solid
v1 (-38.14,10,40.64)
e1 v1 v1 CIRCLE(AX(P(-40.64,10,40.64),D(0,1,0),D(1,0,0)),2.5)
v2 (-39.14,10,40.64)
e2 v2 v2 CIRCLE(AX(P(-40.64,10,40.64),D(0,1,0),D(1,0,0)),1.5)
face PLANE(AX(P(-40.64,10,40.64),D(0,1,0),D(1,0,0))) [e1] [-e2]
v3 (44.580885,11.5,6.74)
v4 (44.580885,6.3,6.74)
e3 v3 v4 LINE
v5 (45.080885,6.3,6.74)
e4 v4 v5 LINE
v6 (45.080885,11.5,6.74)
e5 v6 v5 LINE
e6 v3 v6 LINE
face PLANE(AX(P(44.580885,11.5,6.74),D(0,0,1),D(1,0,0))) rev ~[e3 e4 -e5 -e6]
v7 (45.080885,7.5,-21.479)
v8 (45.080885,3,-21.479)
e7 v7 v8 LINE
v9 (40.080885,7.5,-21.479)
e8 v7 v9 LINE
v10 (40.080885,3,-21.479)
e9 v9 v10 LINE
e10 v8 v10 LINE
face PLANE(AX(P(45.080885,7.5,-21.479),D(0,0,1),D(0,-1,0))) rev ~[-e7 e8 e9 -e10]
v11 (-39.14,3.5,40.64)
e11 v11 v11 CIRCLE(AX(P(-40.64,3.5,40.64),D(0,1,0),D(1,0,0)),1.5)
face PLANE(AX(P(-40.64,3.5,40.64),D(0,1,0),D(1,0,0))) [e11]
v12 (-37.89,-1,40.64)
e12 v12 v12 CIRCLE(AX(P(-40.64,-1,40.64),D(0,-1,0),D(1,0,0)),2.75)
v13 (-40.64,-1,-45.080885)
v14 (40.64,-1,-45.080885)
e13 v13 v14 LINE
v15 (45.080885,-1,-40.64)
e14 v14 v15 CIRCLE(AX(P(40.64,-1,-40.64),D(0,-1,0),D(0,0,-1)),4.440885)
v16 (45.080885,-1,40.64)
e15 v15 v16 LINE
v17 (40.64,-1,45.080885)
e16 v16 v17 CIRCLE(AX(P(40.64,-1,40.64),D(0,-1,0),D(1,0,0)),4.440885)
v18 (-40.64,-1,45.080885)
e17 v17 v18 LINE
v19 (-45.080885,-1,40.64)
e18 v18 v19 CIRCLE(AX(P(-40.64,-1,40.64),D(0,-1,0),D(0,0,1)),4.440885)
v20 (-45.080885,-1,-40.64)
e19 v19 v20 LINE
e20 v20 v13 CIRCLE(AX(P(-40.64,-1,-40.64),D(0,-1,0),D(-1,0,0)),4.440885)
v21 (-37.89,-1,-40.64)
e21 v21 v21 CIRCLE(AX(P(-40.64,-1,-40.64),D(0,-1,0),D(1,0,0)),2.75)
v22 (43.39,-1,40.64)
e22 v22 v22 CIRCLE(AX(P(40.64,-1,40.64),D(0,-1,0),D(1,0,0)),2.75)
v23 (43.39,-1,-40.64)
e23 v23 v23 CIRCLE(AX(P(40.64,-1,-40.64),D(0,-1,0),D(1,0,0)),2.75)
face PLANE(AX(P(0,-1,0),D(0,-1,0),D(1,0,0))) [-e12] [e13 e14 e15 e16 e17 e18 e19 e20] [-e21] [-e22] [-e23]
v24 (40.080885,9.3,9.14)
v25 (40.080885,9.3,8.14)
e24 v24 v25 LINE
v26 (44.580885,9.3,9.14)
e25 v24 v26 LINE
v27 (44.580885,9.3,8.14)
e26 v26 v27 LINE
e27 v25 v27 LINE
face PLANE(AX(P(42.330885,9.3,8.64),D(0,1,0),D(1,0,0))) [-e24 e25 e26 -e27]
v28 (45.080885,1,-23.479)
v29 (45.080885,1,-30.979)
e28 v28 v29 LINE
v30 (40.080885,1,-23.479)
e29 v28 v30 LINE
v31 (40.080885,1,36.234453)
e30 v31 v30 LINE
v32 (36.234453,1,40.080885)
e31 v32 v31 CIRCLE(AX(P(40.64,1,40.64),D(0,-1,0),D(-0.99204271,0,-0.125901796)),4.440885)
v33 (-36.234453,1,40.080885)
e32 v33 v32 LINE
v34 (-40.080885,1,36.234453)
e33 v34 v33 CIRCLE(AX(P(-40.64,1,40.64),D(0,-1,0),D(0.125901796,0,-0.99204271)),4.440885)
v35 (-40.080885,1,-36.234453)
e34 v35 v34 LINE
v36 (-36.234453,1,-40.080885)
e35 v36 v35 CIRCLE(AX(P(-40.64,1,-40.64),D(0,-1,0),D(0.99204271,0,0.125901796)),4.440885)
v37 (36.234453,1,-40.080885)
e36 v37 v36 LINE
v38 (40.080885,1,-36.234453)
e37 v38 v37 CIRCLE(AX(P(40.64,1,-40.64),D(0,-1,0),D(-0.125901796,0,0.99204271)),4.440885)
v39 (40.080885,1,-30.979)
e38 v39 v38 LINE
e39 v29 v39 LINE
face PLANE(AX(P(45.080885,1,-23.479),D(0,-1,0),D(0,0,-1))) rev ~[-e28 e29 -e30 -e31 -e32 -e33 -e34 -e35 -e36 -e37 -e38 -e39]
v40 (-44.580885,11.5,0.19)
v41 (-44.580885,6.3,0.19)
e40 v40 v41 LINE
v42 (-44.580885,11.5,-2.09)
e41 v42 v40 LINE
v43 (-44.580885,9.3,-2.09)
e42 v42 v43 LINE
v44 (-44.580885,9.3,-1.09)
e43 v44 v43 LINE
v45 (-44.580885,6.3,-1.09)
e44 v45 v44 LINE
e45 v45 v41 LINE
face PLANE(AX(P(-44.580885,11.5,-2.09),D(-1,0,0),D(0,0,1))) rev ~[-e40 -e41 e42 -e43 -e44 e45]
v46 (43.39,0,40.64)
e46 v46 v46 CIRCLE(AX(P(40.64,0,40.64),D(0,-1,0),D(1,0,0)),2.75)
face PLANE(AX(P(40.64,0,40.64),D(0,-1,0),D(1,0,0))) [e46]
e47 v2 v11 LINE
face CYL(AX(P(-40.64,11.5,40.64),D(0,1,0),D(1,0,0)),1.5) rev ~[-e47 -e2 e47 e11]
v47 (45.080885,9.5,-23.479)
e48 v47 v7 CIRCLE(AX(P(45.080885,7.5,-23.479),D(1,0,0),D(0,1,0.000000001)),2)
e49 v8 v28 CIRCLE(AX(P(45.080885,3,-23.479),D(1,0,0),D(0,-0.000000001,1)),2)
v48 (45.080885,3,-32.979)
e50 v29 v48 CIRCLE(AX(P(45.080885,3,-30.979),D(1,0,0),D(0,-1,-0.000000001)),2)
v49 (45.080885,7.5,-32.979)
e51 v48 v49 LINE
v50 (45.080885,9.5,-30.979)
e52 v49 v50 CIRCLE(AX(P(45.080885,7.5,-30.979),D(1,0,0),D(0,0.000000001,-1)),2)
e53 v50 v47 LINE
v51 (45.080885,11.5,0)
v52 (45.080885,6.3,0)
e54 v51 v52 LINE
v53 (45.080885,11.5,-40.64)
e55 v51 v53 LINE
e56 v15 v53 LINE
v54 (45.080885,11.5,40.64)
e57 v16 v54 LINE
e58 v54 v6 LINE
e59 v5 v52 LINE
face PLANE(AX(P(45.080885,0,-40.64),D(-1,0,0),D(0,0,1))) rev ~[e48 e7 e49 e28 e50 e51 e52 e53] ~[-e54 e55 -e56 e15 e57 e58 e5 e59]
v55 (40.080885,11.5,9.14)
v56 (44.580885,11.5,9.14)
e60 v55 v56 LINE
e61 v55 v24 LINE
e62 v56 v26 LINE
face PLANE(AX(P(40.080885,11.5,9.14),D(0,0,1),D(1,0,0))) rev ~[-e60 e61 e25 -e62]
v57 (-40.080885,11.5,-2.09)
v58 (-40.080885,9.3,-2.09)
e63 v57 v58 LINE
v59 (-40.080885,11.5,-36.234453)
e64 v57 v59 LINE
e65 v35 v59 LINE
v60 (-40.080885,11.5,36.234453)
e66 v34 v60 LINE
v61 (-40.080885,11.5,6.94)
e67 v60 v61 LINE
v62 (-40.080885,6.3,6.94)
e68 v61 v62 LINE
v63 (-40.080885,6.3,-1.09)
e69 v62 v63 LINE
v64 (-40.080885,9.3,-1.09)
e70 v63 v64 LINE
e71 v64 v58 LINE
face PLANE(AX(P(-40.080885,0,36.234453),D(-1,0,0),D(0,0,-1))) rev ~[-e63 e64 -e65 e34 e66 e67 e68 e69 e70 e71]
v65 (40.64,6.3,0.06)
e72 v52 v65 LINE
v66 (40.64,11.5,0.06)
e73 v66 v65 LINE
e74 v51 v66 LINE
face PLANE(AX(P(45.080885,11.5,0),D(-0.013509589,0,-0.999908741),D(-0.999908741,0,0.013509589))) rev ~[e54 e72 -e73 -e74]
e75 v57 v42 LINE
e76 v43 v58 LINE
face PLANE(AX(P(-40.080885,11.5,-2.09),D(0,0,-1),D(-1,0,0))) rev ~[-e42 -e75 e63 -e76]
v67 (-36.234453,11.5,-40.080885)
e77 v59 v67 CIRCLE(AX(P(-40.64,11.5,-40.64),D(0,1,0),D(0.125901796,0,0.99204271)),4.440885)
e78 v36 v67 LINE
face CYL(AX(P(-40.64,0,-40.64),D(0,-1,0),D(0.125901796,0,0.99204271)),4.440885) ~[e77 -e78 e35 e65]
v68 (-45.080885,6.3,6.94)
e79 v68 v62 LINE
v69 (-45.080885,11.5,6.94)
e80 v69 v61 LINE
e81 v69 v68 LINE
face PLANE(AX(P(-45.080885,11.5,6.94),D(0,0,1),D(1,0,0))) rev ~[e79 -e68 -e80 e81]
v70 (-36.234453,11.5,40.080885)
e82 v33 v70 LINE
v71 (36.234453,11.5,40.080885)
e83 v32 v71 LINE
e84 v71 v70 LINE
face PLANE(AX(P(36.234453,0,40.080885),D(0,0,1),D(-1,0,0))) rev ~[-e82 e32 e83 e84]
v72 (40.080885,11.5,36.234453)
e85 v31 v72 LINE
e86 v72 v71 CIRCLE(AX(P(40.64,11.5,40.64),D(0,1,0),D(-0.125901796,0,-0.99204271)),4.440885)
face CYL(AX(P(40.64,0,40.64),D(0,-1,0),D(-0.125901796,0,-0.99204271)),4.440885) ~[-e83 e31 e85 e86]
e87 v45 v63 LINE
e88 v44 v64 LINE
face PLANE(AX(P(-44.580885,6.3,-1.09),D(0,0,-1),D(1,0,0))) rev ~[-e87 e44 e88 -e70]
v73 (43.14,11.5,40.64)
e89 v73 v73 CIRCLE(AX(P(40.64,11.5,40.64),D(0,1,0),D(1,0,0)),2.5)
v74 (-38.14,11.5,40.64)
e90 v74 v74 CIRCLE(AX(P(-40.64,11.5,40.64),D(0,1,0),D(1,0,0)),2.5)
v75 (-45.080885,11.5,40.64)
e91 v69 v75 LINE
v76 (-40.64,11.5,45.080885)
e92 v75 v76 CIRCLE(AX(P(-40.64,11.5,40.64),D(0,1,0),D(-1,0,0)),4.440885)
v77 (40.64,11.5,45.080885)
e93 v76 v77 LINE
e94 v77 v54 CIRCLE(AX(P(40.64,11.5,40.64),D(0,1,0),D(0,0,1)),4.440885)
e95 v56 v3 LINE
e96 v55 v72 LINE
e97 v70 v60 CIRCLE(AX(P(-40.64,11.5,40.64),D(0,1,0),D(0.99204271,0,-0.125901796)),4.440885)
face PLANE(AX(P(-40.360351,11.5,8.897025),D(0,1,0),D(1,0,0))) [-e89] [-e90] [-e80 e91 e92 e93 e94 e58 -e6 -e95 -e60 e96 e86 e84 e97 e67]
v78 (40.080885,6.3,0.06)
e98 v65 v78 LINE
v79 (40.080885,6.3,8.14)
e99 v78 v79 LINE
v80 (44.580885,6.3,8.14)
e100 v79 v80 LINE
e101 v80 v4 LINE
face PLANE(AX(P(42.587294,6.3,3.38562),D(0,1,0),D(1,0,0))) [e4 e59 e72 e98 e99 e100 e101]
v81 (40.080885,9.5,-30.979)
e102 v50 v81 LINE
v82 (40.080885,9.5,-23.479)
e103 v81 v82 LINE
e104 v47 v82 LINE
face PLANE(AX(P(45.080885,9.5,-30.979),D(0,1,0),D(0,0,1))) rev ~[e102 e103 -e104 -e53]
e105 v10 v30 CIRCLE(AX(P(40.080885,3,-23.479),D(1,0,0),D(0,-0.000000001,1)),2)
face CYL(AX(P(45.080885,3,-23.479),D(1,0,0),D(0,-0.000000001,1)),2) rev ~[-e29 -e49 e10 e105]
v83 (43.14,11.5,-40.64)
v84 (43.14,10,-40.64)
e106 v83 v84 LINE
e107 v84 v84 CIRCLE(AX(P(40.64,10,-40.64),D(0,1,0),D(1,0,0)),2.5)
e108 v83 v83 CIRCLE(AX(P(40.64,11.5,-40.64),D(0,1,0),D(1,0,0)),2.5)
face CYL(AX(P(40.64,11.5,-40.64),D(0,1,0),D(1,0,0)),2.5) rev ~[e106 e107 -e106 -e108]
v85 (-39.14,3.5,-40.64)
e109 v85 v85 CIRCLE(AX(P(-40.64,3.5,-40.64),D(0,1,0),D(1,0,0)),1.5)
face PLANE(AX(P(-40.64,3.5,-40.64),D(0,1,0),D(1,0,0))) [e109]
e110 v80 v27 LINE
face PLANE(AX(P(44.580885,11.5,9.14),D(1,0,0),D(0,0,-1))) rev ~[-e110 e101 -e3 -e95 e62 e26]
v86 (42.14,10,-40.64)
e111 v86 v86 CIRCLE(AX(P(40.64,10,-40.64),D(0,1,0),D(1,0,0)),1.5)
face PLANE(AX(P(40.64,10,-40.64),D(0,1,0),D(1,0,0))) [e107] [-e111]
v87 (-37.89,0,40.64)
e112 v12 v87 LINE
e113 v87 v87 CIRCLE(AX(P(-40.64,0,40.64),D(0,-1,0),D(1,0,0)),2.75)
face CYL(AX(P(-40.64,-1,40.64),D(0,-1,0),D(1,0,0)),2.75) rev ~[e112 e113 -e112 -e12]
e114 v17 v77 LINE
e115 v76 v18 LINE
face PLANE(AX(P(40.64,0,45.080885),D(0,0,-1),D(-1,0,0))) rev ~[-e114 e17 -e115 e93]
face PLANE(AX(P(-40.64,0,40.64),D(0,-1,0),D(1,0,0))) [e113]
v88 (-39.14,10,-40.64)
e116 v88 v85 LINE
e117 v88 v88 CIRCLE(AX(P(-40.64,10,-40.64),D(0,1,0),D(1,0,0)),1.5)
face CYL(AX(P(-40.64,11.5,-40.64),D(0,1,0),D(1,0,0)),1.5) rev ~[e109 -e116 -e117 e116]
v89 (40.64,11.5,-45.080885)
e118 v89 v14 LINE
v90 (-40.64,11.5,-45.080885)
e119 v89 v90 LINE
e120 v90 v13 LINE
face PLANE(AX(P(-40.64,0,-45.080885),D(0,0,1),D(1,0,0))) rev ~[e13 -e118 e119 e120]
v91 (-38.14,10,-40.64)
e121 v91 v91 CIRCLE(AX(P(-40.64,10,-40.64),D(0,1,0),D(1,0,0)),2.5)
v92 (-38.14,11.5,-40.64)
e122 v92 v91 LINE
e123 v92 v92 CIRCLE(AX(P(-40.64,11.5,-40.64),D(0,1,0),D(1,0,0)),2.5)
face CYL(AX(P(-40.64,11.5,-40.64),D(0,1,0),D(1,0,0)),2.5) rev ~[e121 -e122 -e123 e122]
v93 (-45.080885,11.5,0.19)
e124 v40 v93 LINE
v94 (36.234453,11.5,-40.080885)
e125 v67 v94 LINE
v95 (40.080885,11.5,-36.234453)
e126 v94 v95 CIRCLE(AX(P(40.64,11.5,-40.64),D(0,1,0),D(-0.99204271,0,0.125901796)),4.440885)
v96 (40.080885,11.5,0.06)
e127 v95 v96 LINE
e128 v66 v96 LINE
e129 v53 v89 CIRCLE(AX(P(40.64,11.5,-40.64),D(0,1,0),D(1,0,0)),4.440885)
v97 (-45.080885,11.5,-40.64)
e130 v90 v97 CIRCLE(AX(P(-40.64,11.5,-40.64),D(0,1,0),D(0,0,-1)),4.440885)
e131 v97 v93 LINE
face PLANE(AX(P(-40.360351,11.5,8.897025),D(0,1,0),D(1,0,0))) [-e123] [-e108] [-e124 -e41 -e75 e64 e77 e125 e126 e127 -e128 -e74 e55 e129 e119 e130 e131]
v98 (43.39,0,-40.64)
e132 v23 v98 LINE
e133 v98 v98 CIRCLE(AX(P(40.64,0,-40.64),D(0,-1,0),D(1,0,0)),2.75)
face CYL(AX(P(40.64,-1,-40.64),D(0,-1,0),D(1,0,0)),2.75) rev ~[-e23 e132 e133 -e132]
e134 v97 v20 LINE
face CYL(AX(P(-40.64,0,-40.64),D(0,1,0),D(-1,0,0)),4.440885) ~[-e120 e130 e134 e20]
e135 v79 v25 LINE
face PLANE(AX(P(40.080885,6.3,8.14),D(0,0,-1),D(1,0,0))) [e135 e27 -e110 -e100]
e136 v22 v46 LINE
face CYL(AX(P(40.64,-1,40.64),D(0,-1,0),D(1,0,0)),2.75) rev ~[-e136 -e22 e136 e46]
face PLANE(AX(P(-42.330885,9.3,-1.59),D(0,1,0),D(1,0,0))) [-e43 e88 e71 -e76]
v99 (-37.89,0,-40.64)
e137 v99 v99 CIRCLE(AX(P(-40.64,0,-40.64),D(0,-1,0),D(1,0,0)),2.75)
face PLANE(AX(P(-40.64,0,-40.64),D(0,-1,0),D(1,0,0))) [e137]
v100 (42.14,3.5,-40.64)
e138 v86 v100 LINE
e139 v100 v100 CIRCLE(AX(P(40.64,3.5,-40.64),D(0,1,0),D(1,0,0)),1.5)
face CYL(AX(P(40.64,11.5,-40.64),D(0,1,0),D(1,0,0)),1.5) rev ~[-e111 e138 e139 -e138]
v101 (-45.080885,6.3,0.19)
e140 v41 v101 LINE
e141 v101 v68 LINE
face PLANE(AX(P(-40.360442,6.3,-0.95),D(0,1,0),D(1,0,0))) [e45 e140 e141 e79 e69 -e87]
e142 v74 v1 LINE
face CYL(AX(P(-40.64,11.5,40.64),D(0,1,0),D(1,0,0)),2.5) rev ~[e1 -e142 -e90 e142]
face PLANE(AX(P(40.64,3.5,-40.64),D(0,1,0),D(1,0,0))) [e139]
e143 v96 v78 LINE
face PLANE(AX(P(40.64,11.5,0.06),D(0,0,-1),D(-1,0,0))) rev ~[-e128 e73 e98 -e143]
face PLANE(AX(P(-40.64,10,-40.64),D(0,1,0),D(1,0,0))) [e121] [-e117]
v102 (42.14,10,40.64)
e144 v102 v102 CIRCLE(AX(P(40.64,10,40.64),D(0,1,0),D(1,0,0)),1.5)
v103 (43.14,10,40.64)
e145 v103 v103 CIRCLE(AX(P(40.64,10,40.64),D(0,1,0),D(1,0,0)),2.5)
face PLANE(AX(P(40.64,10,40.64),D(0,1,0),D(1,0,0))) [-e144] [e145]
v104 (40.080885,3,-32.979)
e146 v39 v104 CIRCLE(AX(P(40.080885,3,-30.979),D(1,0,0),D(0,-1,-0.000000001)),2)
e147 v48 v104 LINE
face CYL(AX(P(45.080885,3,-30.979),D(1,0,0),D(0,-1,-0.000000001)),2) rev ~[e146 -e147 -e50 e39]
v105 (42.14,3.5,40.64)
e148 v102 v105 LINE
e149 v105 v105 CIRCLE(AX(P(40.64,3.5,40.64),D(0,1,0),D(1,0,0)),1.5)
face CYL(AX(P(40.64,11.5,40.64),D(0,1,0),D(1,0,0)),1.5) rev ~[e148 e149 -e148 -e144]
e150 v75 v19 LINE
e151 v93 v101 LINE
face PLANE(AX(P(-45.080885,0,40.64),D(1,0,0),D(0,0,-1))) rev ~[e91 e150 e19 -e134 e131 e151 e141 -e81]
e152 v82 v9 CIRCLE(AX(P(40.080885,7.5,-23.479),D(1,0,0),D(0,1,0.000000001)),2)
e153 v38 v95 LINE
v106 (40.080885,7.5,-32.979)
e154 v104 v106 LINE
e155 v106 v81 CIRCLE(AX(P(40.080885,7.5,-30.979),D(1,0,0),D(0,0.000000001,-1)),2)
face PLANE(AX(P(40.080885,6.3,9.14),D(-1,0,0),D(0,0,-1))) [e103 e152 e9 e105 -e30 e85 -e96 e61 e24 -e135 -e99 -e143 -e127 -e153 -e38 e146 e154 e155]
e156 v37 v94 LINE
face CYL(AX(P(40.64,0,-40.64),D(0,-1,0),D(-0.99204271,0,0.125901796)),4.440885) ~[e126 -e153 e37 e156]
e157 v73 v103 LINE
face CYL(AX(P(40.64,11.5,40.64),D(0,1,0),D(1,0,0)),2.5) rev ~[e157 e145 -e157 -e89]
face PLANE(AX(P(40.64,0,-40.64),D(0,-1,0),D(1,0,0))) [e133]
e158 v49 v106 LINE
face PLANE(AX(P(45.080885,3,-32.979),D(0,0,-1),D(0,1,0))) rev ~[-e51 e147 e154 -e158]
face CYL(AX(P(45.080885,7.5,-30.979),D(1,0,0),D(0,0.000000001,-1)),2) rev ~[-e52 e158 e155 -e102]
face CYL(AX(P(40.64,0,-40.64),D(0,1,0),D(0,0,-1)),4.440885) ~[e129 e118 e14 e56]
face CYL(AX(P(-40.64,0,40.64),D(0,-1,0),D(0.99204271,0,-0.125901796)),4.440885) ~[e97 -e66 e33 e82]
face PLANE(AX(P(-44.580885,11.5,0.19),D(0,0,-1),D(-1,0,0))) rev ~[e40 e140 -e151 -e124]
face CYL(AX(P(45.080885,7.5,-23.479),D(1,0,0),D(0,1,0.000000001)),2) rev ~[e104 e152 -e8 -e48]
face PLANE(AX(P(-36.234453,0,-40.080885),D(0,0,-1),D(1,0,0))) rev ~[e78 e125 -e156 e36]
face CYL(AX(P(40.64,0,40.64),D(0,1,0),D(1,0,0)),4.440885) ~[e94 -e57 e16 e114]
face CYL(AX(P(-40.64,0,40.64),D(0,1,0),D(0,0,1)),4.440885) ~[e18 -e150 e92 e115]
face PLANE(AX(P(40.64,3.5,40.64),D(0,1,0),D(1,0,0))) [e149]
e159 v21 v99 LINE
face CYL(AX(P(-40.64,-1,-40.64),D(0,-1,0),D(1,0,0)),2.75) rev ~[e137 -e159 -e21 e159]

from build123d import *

# Parameters (mm, degrees)
SKETCH1_W           = 7.937979337
SKETCH1_H           = 0.559115352
BOSS_EXTRUDE1_DEPTH = 11.5
SKETCH2_R           = 1.5
CUT_EXTRUDE1_DEPTH  = 8
CUT_EXTRUDE2_DEPTH  = 8
SKETCH4_R           = 2.5
CUT_EXTRUDE3_DEPTH  = 1.5
BOSS_EXTRUDE2_DEPTH = 1
BOSS_EXTRUDE3_DEPTH = 1
SKETCH7_R           = 2.75
CUT_EXTRUDE4_DEPTH  = 1
SKETCH8_W           = 0.559115352
SKETCH8_H           = 2.28
SKETCH8_H_2         = 2.4
CUT_EXTRUDE5_DEPTH  = 5.2
SKETCH9_W           = 4.5
SKETCH9_H           = 1
BOSS_EXTRUDE4_DEPTH = 3


with BuildPart() as part:
    # Sketch1 → Boss-Extrude1 (new body)
    with BuildSketch(Plane(origin=(0, 0, 0), x_dir=(1, 0, 0), z_dir=(0, 1, 0))):
        with BuildLine():
            Line((-40.080884648, -36.23445276), (-40.080884648, 18.423402639))
            Line((-40.080884648, 18.423402639), (-40.64, 18.423402639))
            Line((-40.64, 18.423402639), (-40.64, -36.199115352))
            ThreePointArc((-40.64, -36.199115352), (-40.359884529, -36.207958509), (-40.080884648, -36.23445276))
        make_face()
        with BuildLine():
            Line((-40.080884648, 18.423402639), (-40.080884648, 36.23445276))
            ThreePointArc((-40.080884648, 36.23445276), (-40.359884529, 36.207958509), (-40.64, 36.199115352))
            Line((-40.64, 36.199115352), (-40.64, 18.423402639))
            Line((-40.64, 18.423402639), (-40.080884648, 18.423402639))
        make_face()
        with BuildLine():
            Line((-36.23445276, 40.080884648), (-7.937979337, 40.080884648))
            Line((-7.937979337, 40.080884648), (-7.937979337, 40.64))
            Line((-7.937979337, 40.64), (-36.199115352, 40.64))
            ThreePointArc((-36.199115352, 40.64), (-36.207958509, 40.359884529), (-36.23445276, 40.080884648))
        make_face()
        with BuildLine():
            Line((0, 40.64), (0, 40.080884648))
            Line((0, 40.080884648), (36.23445276, 40.080884648))
            ThreePointArc((36.23445276, 40.080884648), (36.207958509, 40.359884529), (36.199115352, 40.64))
            Line((36.199115352, 40.64), (0, 40.64))
        make_face()
        with Locations((-3.968989669, 40.360442324)):
            Rectangle(SKETCH1_W, SKETCH1_H)
        with BuildLine():
            ThreePointArc((40.64, 36.199115352), (40.359884529, 36.207958509), (40.080884648, 36.23445276))
            Line((40.080884648, 36.23445276), (40.080884648, 28.268480093))
            Line((40.080884648, 28.268480093), (40.64, 28.268480093))
            Line((40.64, 28.268480093), (40.64, 36.199115352))
        make_face()
        with BuildLine():
            Line((40.64, 28.268480093), (40.080884648, 28.268480093))
            Line((40.080884648, 28.268480093), (40.080884648, -36.23445276))
            ThreePointArc((40.080884648, -36.23445276), (40.359884529, -36.207958509), (40.64, -36.199115352))
            Line((40.64, -36.199115352), (40.64, 28.268480093))
        make_face()
        with BuildLine():
            ThreePointArc((40.64, -36.199115352), (40.359884529, -36.207958509), (40.080884648, -36.23445276))
            ThreePointArc((40.080884648, -36.23445276), (37.499820351, -37.499820351), (36.23445276, -40.080884648))
            ThreePointArc((36.23445276, -40.080884648), (36.207958509, -40.359884529), (36.199115352, -40.64))
            Line((36.199115352, -40.64), (40.64, -40.64))
            Line((40.64, -40.64), (40.64, -36.199115352))
        make_face()
        with BuildLine():
            ThreePointArc((45.080884648, -40.64), (43.780179649, -37.499820351), (40.64, -36.199115352))
            Line((40.64, -36.199115352), (40.64, -40.64))
            Line((40.64, -40.64), (36.199115352, -40.64))
            ThreePointArc((36.199115352, -40.64), (37.499820351, -43.780179649), (40.64, -45.080884648))
            ThreePointArc((40.64, -45.080884648), (43.780179649, -43.780179649), (45.080884648, -40.64))
        make_face()
        with BuildLine():
            ThreePointArc((36.199115352, -40.64), (36.207958509, -40.359884529), (36.23445276, -40.080884648))
            Line((36.23445276, -40.080884648), (27.085817246, -40.080884648))
            Line((27.085817246, -40.080884648), (27.085817246, -40.64))
            Line((27.085817246, -40.64), (36.199115352, -40.64))
        make_face()
        with BuildLine():
            Line((27.085817246, -40.080884648), (-36.23445276, -40.080884648))
            ThreePointArc((-36.23445276, -40.080884648), (-36.207958509, -40.359884529), (-36.199115352, -40.64))
            Line((-36.199115352, -40.64), (27.085817246, -40.64))
            Line((27.085817246, -40.64), (27.085817246, -40.080884648))
        make_face()
        with BuildLine():
            Line((-40.64, -40.64), (-40.64, -36.199115352))
            ThreePointArc((-40.64, -36.199115352), (-43.780179649, -37.499820351), (-45.080884648, -40.64))
            ThreePointArc((-45.080884648, -40.64), (-43.780179649, -43.780179649), (-40.64, -45.080884648))
            ThreePointArc((-40.64, -45.080884648), (-37.499820351, -43.780179649), (-36.199115352, -40.64))
            Line((-36.199115352, -40.64), (-40.64, -40.64))
        make_face()
        with BuildLine():
            ThreePointArc((-36.23445276, -40.080884648), (-37.499820351, -37.499820351), (-40.080884648, -36.23445276))
            ThreePointArc((-40.080884648, -36.23445276), (-40.359884529, -36.207958509), (-40.64, -36.199115352))
            Line((-40.64, -36.199115352), (-40.64, -40.64))
            Line((-40.64, -40.64), (-36.199115352, -40.64))
            ThreePointArc((-36.199115352, -40.64), (-36.207958509, -40.359884529), (-36.23445276, -40.080884648))
        make_face()
        with BuildLine():
            Line((-40.64, -40.64), (-40.64, -36.199115352))
            ThreePointArc((-40.64, -36.199115352), (-43.780179649, -37.499820351), (-45.080884648, -40.64))
            ThreePointArc((-45.080884648, -40.64), (-43.780179649, -43.780179649), (-40.64, -45.080884648))
            ThreePointArc((-40.64, -45.080884648), (-37.499820351, -43.780179649), (-36.199115352, -40.64))
            Line((-36.199115352, -40.64), (-40.64, -40.64))
        make_face()
        with BuildLine():
            Line((27.085817246, -40.64), (-36.199115352, -40.64))
            ThreePointArc((-36.199115352, -40.64), (-37.499820351, -43.780179649), (-40.64, -45.080884648))
            Line((-40.64, -45.080884648), (27.085817246, -45.080884648))
            Line((27.085817246, -45.080884648), (27.085817246, -40.64))
        make_face()
        with BuildLine():
            Line((-40.64, -36.199115352), (-40.64, 18.423402639))
            Line((-40.64, 18.423402639), (-45.080884648, 18.423402639))
            Line((-45.080884648, 18.423402639), (-45.080884648, -40.64))
            ThreePointArc((-45.080884648, -40.64), (-43.780179649, -37.499820351), (-40.64, -36.199115352))
        make_face()
        with BuildLine():
            ThreePointArc((45.080884648, -40.64), (43.780179649, -37.499820351), (40.64, -36.199115352))
            Line((40.64, -36.199115352), (40.64, -40.64))
            Line((40.64, -40.64), (36.199115352, -40.64))
            ThreePointArc((36.199115352, -40.64), (37.499820351, -43.780179649), (40.64, -45.080884648))
            ThreePointArc((40.64, -45.080884648), (43.780179649, -43.780179649), (45.080884648, -40.64))
        make_face()
        with BuildLine():
            ThreePointArc((40.64, -45.080884648), (37.499820351, -43.780179649), (36.199115352, -40.64))
            Line((36.199115352, -40.64), (27.085817246, -40.64))
            Line((27.085817246, -40.64), (27.085817246, -45.080884648))
            Line((27.085817246, -45.080884648), (40.64, -45.080884648))
        make_face()
        with BuildLine():
            Line((45.080884648, 28.268480093), (40.64, 28.268480093))
            Line((40.64, 28.268480093), (40.64, -36.199115352))
            ThreePointArc((40.64, -36.199115352), (43.780179649, -37.499820351), (45.080884648, -40.64))
            Line((45.080884648, -40.64), (45.080884648, 28.268480093))
        make_face()
        with BuildLine():
            ThreePointArc((45.080884648, 40.64), (43.780179649, 37.499820351), (40.64, 36.199115352))
            Line((40.64, 36.199115352), (40.64, 28.268480093))
            Line((40.64, 28.268480093), (45.080884648, 28.268480093))
            Line((45.080884648, 28.268480093), (45.080884648, 40.64))
        make_face()
        with BuildLine():
            ThreePointArc((40.64, 45.080884648), (37.499820351, 43.780179649), (36.199115352, 40.64))
            Line((36.199115352, 40.64), (40.64, 40.64))
            Line((40.64, 40.64), (40.64, 36.199115352))
            ThreePointArc((40.64, 36.199115352), (43.780179649, 37.499820351), (45.080884648, 40.64))
            ThreePointArc((45.080884648, 40.64), (43.780179649, 43.780179649), (40.64, 45.080884648))
        make_face()
        with BuildLine():
            ThreePointArc((36.199115352, 40.64), (36.207958509, 40.359884529), (36.23445276, 40.080884648))
            ThreePointArc((36.23445276, 40.080884648), (37.499820351, 37.499820351), (40.080884648, 36.23445276))
            ThreePointArc((40.080884648, 36.23445276), (40.359884529, 36.207958509), (40.64, 36.199115352))
            Line((40.64, 36.199115352), (40.64, 40.64))
            Line((40.64, 40.64), (36.199115352, 40.64))
        make_face()
        with BuildLine():
            ThreePointArc((40.64, 45.080884648), (37.499820351, 43.780179649), (36.199115352, 40.64))
            Line((36.199115352, 40.64), (40.64, 40.64))
            Line((40.64, 40.64), (40.64, 36.199115352))
            ThreePointArc((40.64, 36.199115352), (43.780179649, 37.499820351), (45.080884648, 40.64))
            ThreePointArc((45.080884648, 40.64), (43.780179649, 43.780179649), (40.64, 45.080884648))
        make_face()
        with BuildLine():
            Line((-7.937979337, 40.64), (0, 40.64))
            Line((0, 40.64), (36.199115352, 40.64))
            ThreePointArc((36.199115352, 40.64), (37.499820351, 43.780179649), (40.64, 45.080884648))
            Line((40.64, 45.080884648), (-7.937979337, 45.080884648))
            Line((-7.937979337, 45.080884648), (-7.937979337, 40.64))
        make_face()
        with BuildLine():
            Line((-36.199115352, 40.64), (-7.937979337, 40.64))
            Line((-7.937979337, 40.64), (-7.937979337, 45.080884648))
            Line((-7.937979337, 45.080884648), (-40.64, 45.080884648))
            ThreePointArc((-40.64, 45.080884648), (-37.499820351, 43.780179649), (-36.199115352, 40.64))
        make_face()
        with BuildLine():
            Line((-40.64, 40.64), (-36.199115352, 40.64))
            ThreePointArc((-36.199115352, 40.64), (-37.499820351, 43.780179649), (-40.64, 45.080884648))
            ThreePointArc((-40.64, 45.080884648), (-43.780179649, 43.780179649), (-45.080884648, 40.64))
            ThreePointArc((-45.080884648, 40.64), (-43.780179649, 37.499820351), (-40.64, 36.199115352))
            Line((-40.64, 36.199115352), (-40.64, 40.64))
        make_face()
        with BuildLine():
            ThreePointArc((-40.080884648, 36.23445276), (-37.499820351, 37.499820351), (-36.23445276, 40.080884648))
            ThreePointArc((-36.23445276, 40.080884648), (-36.207958509, 40.359884529), (-36.199115352, 40.64))
            Line((-36.199115352, 40.64), (-40.64, 40.64))
            Line((-40.64, 40.64), (-40.64, 36.199115352))
            ThreePointArc((-40.64, 36.199115352), (-40.359884529, 36.207958509), (-40.080884648, 36.23445276))
        make_face()
        with BuildLine():
            Line((-40.64, 40.64), (-36.199115352, 40.64))
            ThreePointArc((-36.199115352, 40.64), (-37.499820351, 43.780179649), (-40.64, 45.080884648))
            ThreePointArc((-40.64, 45.080884648), (-43.780179649, 43.780179649), (-45.080884648, 40.64))
            ThreePointArc((-45.080884648, 40.64), (-43.780179649, 37.499820351), (-40.64, 36.199115352))
            Line((-40.64, 36.199115352), (-40.64, 40.64))
        make_face()
        with BuildLine():
            Line((-40.64, 18.423402639), (-40.64, 36.199115352))
            ThreePointArc((-40.64, 36.199115352), (-43.780179649, 37.499820351), (-45.080884648, 40.64))
            Line((-45.080884648, 40.64), (-45.080884648, 18.423402639))
            Line((-45.080884648, 18.423402639), (-40.64, 18.423402639))
        make_face()
    extrude(amount=BOSS_EXTRUDE1_DEPTH)

    # Sketch2 → Cut-Extrude1 (cut)
    with BuildSketch(Plane(origin=(0, 11.5, 0), x_dir=(1, 0, 0), z_dir=(0, 1, 0))):
        with Locations((-40.64, 40.64)):
            Circle(SKETCH2_R)
        with Locations((40.64, 40.64)):
            Circle(SKETCH2_R)
        with Locations((40.64, -40.64)):
            Circle(SKETCH2_R)
        with Locations((-40.64, -40.64)):
            Circle(SKETCH2_R)
    extrude(amount=-CUT_EXTRUDE1_DEPTH, mode=Mode.SUBTRACT)

    # Sketch3 → Cut-Extrude2 (cut)
    with BuildSketch(Plane(origin=(45.080884648, 0, 0), x_dir=(0, 0, -1), z_dir=(1, 0, 0))):
        with BuildLine():
            Line((30.979, 9.5), (23.479, 9.5))
            ThreePointArc((23.479, 9.5), (22.064786438, 8.914213562), (21.479, 7.5))
            Line((21.479, 7.5), (21.479, 3))
            ThreePointArc((21.479, 3), (22.064786438, 1.585786438), (23.479, 1))
            Line((23.479, 1), (30.979, 1))
            ThreePointArc((30.979, 1), (32.393213562, 1.585786438), (32.979, 3))
            Line((32.979, 3), (32.979, 7.5))
            ThreePointArc((32.979, 7.5), (32.393213562, 8.914213562), (30.979, 9.5))
        make_face()
    extrude(amount=-CUT_EXTRUDE2_DEPTH, mode=Mode.SUBTRACT)

    # Sketch4 → Cut-Extrude3 (cut)
    with BuildSketch(Plane(origin=(0, 11.5, 0), x_dir=(1, 0, 0), z_dir=(0, 1, 0))):
        with Locations((-40.64, 40.64)):
            Circle(SKETCH4_R)
        with Locations((40.64, 40.64)):
            Circle(SKETCH4_R)
        with Locations((40.64, -40.64)):
            Circle(SKETCH4_R)
        with Locations((-40.64, -40.64)):
            Circle(SKETCH4_R)
    extrude(amount=-CUT_EXTRUDE3_DEPTH, mode=Mode.SUBTRACT)

    # Sketch5 → Boss-Extrude2 (add)
    with BuildSketch(Plane.XZ):
        with BuildLine():
            ThreePointArc((36.23445276, 40.080884648), (37.499820351, 37.499820351), (40.080884648, 36.23445276))
            Line((40.080884648, 36.23445276), (40.080884648, -36.23445276))
            ThreePointArc((40.080884648, -36.23445276), (37.499820351, -37.499820351), (36.23445276, -40.080884648))
            Line((36.23445276, -40.080884648), (-36.23445276, -40.080884648))
            ThreePointArc((-36.23445276, -40.080884648), (-37.499820351, -37.499820351), (-40.080884648, -36.23445276))
            Line((-40.080884648, -36.23445276), (-40.080884648, 36.23445276))
            ThreePointArc((-40.080884648, 36.23445276), (-37.499820351, 37.499820351), (-36.23445276, 40.080884648))
            Line((-36.23445276, 40.080884648), (36.23445276, 40.080884648))
        make_face()
    extrude(amount=-BOSS_EXTRUDE2_DEPTH)

    # Sketch6 → Boss-Extrude3 (add)
    with BuildSketch(Plane.XZ):
        with BuildLine():
            Line((40.64, 45.080884648), (-40.64, 45.080884648))
            ThreePointArc((-40.64, 45.080884648), (-43.780179649, 43.780179649), (-45.080884648, 40.64))
            Line((-45.080884648, 40.64), (-45.080884648, -40.64))
            ThreePointArc((-45.080884648, -40.64), (-43.780179649, -43.780179649), (-40.64, -45.080884648))
            Line((-40.64, -45.080884648), (40.64, -45.080884648))
            ThreePointArc((40.64, -45.080884648), (43.780179649, -43.780179649), (45.080884648, -40.64))
            Line((45.080884648, -40.64), (45.080884648, 40.64))
            ThreePointArc((45.080884648, 40.64), (43.780179649, 43.780179649), (40.64, 45.080884648))
        make_face()
    extrude(amount=BOSS_EXTRUDE3_DEPTH)

    # Sketch7 → Cut-Extrude4 (cut)
    with BuildSketch(Plane.XZ.offset(1)):
        with Locations((-40.64, 40.64)):
            Circle(SKETCH7_R)
        with Locations((40.64, 40.64)):
            Circle(SKETCH7_R)
        with Locations((40.64, -40.64)):
            Circle(SKETCH7_R)
        with Locations((-40.64, -40.64)):
            Circle(SKETCH7_R)
    extrude(amount=-CUT_EXTRUDE4_DEPTH, mode=Mode.SUBTRACT)

    # Sketch8 → Cut-Extrude5 (cut)
    with BuildSketch(Plane(origin=(0, 11.5, 0), x_dir=(1, 0, 0), z_dir=(0, 1, 0))):
        with Locations((-40.360442324, 0.95)):
            Rectangle(SKETCH8_W, SKETCH8_H)
        Polygon((-40.080884648, -0.19), (-40.64, -0.19), (-44.580884648, -0.19), (-45.080884648, -0.19), (-45.080884648, -6.94), (-40.64, -6.94), (-40.080884648, -6.94), align=None)
        Polygon((-44.580884648, -0.19), (-40.64, -0.19), (-40.64, 2.09), (-44.380884648, 2.09), (-44.580884648, 2.09), align=None)
        Polygon((40.080884648, -6.74), (40.64, -6.74), (44.580884648, -6.74), (45.080884648, -6.74), (45.080884648, 0), (40.64, -0.06), (40.080884648, -0.06), align=None)
        with Locations((40.360442324, -7.94)):
            Rectangle(SKETCH8_W, SKETCH8_H_2)
        Polygon((40.64, -6.74), (40.64, -9.14), (44.380884648, -9.14), (44.580884648, -9.14), (44.580884648, -6.74), align=None)
    extrude(amount=-CUT_EXTRUDE5_DEPTH, mode=Mode.SUBTRACT)

    # Sketch9 → Boss-Extrude4 (add)
    with BuildSketch(Plane(origin=(0, 6.3, 0), x_dir=(1, 0, 0), z_dir=(0, 1, 0))):
        with Locations((42.330884648, -8.64)):
            Rectangle(SKETCH9_W, SKETCH9_H)
        with Locations((-42.330884648, 1.59)):
            Rectangle(SKETCH9_W, SKETCH9_H)
    extrude(amount=BOSS_EXTRUDE4_DEPTH)


solid = part.part
